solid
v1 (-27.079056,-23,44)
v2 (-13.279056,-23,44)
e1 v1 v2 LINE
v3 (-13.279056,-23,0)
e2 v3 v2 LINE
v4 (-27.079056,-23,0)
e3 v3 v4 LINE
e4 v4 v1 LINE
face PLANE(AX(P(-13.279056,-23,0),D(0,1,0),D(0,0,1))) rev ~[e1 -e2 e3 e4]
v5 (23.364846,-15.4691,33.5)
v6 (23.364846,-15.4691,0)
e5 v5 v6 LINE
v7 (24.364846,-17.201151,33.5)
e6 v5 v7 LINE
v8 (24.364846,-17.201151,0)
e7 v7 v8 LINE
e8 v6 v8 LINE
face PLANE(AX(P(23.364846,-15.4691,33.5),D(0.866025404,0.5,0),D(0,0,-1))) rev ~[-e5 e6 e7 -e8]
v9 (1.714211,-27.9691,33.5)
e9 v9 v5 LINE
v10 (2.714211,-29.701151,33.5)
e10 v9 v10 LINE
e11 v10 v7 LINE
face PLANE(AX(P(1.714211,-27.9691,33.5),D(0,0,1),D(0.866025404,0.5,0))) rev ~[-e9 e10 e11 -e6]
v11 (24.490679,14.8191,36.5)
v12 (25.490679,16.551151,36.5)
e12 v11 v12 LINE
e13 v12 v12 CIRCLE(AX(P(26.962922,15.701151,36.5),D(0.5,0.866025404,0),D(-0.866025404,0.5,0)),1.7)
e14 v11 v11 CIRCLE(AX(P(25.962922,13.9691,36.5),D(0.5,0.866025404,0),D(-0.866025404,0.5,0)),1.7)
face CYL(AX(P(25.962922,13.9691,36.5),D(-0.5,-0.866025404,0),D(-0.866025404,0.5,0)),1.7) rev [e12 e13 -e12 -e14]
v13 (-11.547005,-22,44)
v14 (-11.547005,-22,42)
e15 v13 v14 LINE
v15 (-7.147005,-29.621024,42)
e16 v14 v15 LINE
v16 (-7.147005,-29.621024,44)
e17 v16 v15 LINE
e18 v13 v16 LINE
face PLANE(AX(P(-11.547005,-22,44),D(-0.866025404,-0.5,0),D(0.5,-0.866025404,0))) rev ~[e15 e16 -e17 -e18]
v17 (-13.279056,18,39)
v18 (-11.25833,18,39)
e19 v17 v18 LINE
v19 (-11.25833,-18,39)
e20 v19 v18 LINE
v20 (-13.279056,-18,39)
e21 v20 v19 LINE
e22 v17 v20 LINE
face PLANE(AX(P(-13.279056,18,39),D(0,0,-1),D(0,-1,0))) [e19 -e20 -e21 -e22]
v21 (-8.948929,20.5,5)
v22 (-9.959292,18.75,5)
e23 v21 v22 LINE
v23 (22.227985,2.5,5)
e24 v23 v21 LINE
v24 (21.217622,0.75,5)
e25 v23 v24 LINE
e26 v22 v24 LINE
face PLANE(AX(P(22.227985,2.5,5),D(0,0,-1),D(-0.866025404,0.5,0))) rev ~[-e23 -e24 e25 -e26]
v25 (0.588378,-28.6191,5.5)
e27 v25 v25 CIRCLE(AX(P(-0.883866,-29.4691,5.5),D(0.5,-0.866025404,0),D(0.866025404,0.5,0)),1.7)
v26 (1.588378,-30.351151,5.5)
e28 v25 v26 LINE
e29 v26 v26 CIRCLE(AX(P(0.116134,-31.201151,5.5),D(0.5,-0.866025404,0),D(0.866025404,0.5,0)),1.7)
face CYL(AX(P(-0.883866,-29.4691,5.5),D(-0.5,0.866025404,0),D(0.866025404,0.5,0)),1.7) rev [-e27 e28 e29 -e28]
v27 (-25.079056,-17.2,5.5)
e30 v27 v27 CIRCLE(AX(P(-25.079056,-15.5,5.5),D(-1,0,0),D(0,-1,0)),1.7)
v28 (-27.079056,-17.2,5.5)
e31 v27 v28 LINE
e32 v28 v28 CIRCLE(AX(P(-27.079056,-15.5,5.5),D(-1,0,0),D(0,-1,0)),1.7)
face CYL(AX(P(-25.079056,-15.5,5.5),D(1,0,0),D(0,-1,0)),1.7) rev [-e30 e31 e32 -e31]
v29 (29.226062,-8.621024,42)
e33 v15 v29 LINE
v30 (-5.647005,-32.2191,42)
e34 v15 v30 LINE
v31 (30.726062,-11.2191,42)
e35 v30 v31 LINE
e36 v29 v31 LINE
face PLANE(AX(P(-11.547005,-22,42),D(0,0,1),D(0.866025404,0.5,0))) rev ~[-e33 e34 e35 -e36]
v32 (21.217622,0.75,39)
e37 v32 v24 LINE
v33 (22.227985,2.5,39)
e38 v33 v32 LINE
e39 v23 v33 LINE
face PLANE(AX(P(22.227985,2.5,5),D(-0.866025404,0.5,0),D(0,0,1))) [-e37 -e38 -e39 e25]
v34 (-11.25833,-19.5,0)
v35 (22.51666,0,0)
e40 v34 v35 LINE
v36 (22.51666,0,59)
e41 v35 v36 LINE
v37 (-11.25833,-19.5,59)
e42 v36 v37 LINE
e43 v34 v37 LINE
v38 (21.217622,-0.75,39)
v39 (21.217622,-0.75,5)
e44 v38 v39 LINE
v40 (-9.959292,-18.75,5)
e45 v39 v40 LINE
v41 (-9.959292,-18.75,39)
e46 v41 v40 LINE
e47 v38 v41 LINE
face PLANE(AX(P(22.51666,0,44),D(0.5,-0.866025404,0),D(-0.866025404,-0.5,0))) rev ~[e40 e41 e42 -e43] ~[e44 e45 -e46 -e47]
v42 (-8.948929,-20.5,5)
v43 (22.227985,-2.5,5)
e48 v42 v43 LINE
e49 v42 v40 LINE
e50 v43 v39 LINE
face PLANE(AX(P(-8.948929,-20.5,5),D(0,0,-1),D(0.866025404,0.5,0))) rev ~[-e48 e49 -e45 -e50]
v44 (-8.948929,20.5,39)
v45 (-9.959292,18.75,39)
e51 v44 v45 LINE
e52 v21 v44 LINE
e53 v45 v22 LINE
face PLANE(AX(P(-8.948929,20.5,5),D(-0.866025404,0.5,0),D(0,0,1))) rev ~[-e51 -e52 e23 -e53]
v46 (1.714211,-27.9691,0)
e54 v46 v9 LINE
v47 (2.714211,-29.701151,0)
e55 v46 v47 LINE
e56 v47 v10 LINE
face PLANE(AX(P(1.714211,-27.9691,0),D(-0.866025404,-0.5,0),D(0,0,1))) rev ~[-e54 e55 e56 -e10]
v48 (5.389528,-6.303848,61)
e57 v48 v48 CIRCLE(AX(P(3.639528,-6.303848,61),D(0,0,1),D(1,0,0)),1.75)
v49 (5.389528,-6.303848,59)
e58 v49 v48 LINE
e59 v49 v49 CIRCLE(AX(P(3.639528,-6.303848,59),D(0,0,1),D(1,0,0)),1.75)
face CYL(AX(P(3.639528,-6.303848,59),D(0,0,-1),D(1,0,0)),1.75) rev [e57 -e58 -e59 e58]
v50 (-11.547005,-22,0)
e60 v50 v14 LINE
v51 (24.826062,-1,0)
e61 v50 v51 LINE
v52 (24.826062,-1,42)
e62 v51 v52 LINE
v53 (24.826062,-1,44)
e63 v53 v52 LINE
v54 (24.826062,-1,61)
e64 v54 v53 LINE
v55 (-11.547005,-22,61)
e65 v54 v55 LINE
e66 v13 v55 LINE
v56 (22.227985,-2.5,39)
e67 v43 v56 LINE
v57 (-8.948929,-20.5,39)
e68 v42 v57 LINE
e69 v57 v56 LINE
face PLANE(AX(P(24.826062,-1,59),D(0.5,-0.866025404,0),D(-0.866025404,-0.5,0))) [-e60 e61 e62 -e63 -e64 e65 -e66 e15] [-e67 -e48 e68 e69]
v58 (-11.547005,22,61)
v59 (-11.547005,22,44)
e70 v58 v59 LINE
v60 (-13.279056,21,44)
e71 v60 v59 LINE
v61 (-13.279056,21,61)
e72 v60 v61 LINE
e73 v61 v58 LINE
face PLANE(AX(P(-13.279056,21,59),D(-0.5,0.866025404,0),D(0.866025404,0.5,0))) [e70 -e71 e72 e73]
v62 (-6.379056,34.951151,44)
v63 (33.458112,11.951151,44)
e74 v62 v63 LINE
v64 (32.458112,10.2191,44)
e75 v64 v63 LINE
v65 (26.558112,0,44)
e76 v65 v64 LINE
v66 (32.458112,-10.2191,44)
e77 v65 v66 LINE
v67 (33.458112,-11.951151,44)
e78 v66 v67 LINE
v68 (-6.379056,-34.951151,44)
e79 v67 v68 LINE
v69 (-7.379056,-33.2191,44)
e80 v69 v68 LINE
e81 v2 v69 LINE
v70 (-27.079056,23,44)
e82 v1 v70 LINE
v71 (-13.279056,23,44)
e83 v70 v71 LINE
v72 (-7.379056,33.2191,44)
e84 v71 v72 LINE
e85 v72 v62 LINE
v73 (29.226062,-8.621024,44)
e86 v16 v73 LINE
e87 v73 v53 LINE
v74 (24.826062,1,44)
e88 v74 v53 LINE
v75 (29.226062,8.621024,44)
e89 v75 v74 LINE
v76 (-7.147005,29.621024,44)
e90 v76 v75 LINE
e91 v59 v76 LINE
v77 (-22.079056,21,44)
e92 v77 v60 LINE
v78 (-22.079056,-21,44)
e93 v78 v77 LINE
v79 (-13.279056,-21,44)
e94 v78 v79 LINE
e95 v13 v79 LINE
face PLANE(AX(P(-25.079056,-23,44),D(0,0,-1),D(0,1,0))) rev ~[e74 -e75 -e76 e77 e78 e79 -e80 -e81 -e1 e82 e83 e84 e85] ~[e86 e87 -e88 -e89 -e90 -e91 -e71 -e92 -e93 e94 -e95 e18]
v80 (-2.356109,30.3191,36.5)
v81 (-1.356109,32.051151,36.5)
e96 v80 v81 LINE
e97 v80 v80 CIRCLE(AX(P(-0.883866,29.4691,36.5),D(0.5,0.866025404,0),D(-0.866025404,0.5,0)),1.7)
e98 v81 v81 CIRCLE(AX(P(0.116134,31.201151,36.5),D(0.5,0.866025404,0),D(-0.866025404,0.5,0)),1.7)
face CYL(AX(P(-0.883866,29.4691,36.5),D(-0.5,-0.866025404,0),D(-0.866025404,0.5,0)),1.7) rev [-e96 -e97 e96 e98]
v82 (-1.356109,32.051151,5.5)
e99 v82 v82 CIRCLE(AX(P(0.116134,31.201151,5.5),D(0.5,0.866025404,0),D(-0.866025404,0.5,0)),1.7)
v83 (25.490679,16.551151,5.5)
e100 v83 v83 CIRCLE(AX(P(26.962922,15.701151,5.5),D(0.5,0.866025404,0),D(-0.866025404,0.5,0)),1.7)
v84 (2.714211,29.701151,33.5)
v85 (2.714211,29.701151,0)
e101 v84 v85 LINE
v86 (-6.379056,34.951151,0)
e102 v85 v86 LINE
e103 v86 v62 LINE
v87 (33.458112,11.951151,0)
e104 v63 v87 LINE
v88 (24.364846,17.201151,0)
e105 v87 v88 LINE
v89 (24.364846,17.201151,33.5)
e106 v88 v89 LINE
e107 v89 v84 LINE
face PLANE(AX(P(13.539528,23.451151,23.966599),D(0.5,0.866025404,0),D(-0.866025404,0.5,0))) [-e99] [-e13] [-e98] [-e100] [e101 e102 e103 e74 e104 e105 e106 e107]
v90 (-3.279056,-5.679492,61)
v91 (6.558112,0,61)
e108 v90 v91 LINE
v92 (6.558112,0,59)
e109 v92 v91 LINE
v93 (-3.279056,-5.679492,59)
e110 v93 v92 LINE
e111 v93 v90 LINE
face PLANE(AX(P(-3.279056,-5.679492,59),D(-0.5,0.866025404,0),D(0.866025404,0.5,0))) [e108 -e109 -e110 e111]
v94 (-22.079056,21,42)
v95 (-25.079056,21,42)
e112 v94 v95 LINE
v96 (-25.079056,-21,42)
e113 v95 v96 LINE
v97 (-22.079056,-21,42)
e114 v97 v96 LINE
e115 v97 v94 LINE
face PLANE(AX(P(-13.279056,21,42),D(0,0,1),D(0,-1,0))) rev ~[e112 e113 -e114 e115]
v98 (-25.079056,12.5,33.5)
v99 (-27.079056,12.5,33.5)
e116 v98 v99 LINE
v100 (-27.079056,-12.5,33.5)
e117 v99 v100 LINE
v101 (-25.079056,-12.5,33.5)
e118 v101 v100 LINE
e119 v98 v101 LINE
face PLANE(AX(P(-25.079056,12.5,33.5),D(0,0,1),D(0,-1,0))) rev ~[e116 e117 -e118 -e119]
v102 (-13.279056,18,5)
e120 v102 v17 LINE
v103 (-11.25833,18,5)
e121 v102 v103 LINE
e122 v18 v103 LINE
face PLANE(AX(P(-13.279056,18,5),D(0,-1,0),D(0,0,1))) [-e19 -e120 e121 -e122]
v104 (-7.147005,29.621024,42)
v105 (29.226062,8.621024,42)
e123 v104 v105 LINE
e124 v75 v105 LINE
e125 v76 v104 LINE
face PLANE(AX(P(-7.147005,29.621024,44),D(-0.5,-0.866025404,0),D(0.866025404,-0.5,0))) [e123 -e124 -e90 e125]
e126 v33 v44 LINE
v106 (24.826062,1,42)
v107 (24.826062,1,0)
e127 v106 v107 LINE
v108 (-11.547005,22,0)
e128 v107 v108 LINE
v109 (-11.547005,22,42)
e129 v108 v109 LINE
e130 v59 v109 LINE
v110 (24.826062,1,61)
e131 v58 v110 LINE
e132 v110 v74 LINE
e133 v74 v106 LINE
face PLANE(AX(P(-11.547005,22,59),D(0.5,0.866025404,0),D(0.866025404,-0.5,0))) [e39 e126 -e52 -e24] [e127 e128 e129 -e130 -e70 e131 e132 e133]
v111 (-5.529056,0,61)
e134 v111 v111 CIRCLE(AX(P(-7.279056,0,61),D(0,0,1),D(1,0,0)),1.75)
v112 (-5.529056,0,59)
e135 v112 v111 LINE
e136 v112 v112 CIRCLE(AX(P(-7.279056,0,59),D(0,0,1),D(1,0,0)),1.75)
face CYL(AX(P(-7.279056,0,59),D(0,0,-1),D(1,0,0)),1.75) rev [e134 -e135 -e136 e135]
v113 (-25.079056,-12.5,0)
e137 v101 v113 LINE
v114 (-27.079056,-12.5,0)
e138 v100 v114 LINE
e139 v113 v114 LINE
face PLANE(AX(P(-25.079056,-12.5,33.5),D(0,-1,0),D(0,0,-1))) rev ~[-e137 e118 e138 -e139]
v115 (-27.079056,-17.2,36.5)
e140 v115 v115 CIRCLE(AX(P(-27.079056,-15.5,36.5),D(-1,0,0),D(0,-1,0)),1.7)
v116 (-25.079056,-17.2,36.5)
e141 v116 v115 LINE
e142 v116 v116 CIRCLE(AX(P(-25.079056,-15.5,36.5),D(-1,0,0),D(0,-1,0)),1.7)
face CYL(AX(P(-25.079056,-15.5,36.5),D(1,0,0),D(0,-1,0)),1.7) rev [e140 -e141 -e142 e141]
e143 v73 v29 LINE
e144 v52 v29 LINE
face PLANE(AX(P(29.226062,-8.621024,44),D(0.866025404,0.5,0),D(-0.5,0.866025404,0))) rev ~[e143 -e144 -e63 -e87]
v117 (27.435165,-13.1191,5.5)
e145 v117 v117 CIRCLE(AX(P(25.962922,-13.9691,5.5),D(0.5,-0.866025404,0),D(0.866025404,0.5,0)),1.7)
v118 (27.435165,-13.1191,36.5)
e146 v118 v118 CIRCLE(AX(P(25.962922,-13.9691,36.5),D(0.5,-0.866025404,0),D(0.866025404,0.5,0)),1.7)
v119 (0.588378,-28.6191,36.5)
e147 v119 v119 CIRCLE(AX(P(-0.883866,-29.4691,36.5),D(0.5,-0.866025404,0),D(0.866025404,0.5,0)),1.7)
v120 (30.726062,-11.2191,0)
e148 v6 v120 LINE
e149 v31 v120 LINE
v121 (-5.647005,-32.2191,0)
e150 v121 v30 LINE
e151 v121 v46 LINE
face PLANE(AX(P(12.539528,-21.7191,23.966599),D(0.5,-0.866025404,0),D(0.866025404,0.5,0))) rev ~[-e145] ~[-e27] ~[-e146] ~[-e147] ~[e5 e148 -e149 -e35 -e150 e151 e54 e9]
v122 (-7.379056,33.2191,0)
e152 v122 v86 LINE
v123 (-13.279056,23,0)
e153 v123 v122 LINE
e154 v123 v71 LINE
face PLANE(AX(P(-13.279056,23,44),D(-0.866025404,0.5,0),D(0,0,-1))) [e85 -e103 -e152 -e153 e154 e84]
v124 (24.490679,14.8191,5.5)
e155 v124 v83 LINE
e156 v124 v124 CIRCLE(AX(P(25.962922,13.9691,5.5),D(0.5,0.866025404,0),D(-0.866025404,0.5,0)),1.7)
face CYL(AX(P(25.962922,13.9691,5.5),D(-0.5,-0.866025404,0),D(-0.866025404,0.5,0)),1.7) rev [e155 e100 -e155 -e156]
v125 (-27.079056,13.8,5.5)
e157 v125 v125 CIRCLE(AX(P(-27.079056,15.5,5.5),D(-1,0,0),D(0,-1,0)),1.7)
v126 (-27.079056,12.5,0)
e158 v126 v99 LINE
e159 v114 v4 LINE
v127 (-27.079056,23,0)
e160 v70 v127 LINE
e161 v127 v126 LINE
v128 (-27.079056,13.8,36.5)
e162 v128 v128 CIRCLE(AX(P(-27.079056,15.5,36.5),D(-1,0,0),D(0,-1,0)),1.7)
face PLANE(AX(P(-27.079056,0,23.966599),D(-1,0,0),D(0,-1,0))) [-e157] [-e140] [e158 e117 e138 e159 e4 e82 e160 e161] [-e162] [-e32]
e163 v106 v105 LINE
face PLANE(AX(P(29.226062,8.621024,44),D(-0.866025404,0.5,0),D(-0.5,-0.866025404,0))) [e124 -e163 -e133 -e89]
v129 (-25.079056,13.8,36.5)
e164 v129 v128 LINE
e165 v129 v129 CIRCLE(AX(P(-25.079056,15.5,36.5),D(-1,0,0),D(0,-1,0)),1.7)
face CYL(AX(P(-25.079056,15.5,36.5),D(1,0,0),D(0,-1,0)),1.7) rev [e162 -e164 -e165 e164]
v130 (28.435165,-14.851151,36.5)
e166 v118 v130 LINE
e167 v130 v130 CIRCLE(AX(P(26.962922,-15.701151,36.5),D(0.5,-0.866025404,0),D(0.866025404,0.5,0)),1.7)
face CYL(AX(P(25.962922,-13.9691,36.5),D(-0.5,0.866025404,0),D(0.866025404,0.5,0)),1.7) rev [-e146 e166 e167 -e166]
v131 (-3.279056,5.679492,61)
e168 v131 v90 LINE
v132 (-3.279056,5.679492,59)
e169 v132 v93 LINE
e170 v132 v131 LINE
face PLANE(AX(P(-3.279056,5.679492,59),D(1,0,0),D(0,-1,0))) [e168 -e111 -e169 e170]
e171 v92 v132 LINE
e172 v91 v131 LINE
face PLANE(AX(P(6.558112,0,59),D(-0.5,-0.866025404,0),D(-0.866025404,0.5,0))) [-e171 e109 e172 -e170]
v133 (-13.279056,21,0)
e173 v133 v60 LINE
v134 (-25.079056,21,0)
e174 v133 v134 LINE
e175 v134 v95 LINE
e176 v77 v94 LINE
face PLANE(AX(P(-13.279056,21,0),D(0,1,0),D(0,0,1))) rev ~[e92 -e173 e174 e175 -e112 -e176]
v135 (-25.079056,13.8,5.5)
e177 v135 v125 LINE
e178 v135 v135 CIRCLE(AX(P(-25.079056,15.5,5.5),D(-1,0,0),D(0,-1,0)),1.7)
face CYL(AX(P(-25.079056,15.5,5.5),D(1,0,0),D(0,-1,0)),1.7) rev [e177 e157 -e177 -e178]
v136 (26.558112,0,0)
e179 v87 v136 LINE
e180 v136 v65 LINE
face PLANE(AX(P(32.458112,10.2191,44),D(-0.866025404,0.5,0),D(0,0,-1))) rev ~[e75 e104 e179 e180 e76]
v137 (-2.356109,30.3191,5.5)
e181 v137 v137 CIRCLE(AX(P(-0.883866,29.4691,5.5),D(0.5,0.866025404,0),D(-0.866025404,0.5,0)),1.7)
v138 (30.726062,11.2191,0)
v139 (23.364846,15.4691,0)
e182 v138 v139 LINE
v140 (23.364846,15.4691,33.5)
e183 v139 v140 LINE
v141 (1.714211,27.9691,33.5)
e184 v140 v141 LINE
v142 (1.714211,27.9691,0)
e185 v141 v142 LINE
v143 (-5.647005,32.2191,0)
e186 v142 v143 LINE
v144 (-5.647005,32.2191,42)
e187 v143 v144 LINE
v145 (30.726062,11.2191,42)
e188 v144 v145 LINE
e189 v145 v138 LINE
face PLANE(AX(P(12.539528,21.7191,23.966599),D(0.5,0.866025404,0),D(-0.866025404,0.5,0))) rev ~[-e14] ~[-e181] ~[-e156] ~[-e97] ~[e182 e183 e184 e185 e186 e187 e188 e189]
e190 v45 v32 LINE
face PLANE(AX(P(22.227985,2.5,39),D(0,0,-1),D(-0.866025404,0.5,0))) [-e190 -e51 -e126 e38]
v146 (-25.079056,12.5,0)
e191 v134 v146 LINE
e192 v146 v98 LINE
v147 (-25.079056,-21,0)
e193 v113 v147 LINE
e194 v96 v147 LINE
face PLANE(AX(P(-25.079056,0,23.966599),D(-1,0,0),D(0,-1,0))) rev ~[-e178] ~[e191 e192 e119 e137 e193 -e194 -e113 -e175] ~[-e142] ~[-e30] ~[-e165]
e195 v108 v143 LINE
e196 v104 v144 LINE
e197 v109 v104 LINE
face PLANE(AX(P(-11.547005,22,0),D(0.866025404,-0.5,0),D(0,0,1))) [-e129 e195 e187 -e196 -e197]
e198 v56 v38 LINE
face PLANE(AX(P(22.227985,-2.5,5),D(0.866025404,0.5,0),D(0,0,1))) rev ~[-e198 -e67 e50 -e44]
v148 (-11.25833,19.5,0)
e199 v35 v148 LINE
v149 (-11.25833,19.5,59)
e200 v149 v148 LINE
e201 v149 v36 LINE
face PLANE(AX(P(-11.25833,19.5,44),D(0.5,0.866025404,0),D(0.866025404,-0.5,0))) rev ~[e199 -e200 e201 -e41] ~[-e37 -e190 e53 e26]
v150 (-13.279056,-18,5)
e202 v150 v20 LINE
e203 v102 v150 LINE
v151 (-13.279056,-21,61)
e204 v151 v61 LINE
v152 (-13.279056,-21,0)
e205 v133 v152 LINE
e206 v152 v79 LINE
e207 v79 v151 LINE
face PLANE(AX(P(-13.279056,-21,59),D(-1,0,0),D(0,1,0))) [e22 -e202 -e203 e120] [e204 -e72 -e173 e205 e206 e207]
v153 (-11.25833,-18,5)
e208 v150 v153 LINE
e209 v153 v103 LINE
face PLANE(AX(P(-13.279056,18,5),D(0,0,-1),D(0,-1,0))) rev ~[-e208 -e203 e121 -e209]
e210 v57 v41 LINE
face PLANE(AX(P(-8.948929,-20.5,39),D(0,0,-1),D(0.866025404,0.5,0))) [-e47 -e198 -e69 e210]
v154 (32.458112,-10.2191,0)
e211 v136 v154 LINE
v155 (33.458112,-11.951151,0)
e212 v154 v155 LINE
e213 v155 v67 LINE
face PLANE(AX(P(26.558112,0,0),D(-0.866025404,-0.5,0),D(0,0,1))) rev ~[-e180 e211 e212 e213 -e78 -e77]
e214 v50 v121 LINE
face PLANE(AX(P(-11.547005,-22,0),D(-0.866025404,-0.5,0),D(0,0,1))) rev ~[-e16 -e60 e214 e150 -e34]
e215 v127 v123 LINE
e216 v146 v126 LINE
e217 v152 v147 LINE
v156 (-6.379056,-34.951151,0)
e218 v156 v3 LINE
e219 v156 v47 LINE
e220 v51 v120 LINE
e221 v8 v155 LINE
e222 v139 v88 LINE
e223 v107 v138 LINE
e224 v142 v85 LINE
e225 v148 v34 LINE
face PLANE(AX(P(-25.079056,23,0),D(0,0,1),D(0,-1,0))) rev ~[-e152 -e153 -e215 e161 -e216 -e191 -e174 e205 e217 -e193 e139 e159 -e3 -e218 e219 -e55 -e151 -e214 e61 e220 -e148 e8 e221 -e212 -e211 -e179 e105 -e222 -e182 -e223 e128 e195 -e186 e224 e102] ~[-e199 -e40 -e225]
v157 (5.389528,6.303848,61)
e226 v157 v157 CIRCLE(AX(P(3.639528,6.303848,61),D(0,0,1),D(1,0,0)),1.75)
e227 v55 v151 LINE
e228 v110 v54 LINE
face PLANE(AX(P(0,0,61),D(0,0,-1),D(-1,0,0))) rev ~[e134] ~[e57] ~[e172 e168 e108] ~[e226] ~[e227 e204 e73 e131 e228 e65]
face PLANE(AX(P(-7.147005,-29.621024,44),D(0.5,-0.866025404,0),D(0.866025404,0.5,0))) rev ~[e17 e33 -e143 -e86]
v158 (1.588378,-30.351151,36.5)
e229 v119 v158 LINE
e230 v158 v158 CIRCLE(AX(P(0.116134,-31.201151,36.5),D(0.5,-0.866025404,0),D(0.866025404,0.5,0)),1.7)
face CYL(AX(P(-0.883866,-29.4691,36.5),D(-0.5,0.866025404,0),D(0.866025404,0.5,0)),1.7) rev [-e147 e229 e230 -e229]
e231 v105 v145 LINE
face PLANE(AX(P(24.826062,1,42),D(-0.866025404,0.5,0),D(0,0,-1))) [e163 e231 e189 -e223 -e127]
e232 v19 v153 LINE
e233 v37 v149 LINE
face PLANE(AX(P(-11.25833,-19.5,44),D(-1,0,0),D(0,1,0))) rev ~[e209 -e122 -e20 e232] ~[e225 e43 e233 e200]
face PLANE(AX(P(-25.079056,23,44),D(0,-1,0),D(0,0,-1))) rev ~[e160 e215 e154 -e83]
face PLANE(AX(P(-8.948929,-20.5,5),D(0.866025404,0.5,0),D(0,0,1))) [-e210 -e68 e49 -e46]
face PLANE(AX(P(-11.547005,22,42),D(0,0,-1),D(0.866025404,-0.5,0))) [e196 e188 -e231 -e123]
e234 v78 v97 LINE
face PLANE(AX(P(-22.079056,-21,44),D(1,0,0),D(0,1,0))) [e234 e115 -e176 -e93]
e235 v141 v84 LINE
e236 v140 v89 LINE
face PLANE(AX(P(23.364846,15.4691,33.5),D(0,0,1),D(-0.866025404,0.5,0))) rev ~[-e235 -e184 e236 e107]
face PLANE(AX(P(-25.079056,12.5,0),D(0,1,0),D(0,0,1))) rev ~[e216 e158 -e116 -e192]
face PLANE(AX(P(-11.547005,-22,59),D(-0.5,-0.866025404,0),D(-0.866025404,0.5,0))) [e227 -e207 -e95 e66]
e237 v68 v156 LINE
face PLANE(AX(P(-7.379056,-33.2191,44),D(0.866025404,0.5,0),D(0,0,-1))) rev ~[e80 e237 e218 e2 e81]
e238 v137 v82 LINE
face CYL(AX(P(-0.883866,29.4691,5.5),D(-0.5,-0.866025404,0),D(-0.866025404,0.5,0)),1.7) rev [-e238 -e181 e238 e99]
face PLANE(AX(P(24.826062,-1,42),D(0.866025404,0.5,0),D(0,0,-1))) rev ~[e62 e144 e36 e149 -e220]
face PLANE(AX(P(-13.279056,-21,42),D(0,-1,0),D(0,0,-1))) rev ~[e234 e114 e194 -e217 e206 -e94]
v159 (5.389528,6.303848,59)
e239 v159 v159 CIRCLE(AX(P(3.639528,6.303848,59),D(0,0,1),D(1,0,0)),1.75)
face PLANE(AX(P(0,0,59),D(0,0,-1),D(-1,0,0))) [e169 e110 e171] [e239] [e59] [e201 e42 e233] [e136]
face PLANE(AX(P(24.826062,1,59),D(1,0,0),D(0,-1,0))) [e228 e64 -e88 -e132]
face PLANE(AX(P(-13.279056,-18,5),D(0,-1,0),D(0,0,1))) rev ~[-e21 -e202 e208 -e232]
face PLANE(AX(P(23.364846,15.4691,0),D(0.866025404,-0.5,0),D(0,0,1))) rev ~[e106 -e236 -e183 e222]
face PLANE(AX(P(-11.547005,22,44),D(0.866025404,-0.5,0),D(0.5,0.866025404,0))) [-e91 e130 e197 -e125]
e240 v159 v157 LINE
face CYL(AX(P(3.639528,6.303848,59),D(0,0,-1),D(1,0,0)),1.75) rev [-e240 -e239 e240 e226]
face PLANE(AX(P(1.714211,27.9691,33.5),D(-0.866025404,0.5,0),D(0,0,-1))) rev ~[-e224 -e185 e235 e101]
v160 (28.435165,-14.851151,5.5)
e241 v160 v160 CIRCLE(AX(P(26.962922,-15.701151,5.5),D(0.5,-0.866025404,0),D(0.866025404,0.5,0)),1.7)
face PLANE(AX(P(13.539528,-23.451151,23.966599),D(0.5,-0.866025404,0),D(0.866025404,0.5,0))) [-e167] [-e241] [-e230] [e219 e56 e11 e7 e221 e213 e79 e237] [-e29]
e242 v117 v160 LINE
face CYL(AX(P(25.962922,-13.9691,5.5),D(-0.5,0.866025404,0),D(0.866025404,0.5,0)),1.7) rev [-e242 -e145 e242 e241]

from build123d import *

# Parameters (mm, degrees)
PAD_DEPTH       = 44
PAD001_DEPTH    = 11.8
SKETCH002_R     = 1.7
PAD002_DEPTH    = 2
POCKET_DEPTH    = 5
SKETCH004_W     = 36
SKETCH004_H     = 34
POCKET001_DEPTH = 3
SKETCH005_W     = 36
SKETCH005_H     = 34
POCKET002_DEPTH = 4
PAD003_DEPTH    = 11.8
SKETCH007_R     = 1.7
PAD004_DEPTH    = 2
POCKET003_DEPTH = 2
PAD005_DEPTH    = 11.8
SKETCH010_R     = 1.7
PAD006_DEPTH    = 2
SKETCH011_W     = 8.8
SKETCH011_H     = 42
POCKET004_DEPTH = 2
SKETCH012_W     = 36
SKETCH012_H     = 34
POCKET005_DEPTH = 3
PAD007_DEPTH    = 15
SKETCH014_R     = 1.75
PAD008_DEPTH    = 2


with BuildPart() as part:
    # Sketch → Pad (new body)
    with BuildSketch(Plane.XY):
        Polygon((26.5581123827, 0), (-13.2790561914, 23), (-13.2790561914, -23), align=None)
        Polygon((22.5166604984, 0), (-11.2583302492, 19.5), (-11.2583302492, -19.5), align=None, mode=Mode.SUBTRACT)
    extrude(amount=PAD_DEPTH)

    # Sketch001 (on Face3 of Pad) → Pad001 (join)
    with BuildSketch(Plane(origin=(6.6395280957, -11.5, 0), x_dir=(0.8660254038, 0.5, 0), z_dir=(0.5, -0.8660254038, 0))):
        Polygon((-23, 0), (-21, 0), (-21, 42), (21, 42), (21, 0), (23, 0), (23, 44), (-23, 44), align=None)
    extrude(amount=PAD001_DEPTH)

    # Sketch002 (on Face8 of Pad001) → Pad002 (join)
    with BuildSketch(Plane(origin=(12.5395280957, -21.7190997647, 0), x_dir=(0.8660254038, 0.5, 0), z_dir=(0.5, -0.8660254038, 0))):
        Polygon((-23, 0), (-12.5, 0), (-12.5, 33.5), (12.5, 33.5), (12.5, 0), (23, 0), (23, 44), (-23, 44), align=None)
        with Locations((-15.5, 36.5)):
            Circle(SKETCH002_R, mode=Mode.SUBTRACT)
        with Locations((-15.5, 5.5)):
            Circle(SKETCH002_R, mode=Mode.SUBTRACT)
        with Locations((15.5, 5.5)):
            Circle(SKETCH002_R, mode=Mode.SUBTRACT)
        with Locations((15.5, 36.5)):
            Circle(SKETCH002_R, mode=Mode.SUBTRACT)
    extrude(amount=PAD002_DEPTH)

    # Sketch003 (on Face7 of Pad002) → Pocket (cut)
    with BuildSketch(Plane.XY.offset(44)):
        Polygon((-11.5470053838, -22), (-7.1470053838, -29.6210235533), (29.2260615752, -8.6210235533), (24.8260615752, -1), align=None)
    extrude(amount=-POCKET_DEPTH, mode=Mode.SUBTRACT)

    # Sketch004 (on Face11 of Pocket) → Pocket001 (cut)
    with BuildSketch(Plane(origin=(6.6395280957, -11.5, 0), x_dir=(0.8660254038, 0.5, 0), z_dir=(0.5, -0.8660254038, 0))):
        with Locations((0, 22)):
            Rectangle(SKETCH004_W, SKETCH004_H)
    extrude(amount=-POCKET001_DEPTH, mode=Mode.SUBTRACT)

    # Sketch005 (on Face1 of Pocket001) → Pocket002 (cut)
    with BuildSketch(Plane(origin=(6.6395280957, 11.5, 0), x_dir=(-0.8660254038, 0.5, 0), z_dir=(0.5, 0.8660254038, 0))):
        with Locations((0, 22)):
            Rectangle(SKETCH005_W, SKETCH005_H)
    extrude(amount=-POCKET002_DEPTH, mode=Mode.SUBTRACT)

    # Sketch006 (on Face1 of Pocket002) → Pad003 (join)
    with BuildSketch(Plane(origin=(6.6395280957, 11.5, 0), x_dir=(-0.8660254038, 0.5, 0), z_dir=(0.5, 0.8660254038, 0))):
        Polygon((-23, 44), (23, 44), (23, 0), (21, 0), (21, 42), (-21, 42), (-21, 0), (-23, 0), align=None)
    extrude(amount=PAD003_DEPTH)

    # Sketch007 (on Face19 of Pad003) → Pad004 (join)
    with BuildSketch(Plane(origin=(12.5395280957, 21.7190997647, 0), x_dir=(-0.8660254038, 0.5, 0), z_dir=(0.5, 0.8660254038, 0))):
        Polygon((-23, 0), (-12.5, 0), (-12.5, 33.5), (12.5, 33.5), (12.5, 0), (23, 0), (23, 44), (-23, 44), align=None)
        with Locations((-15.5, 36.5)):
            Circle(SKETCH007_R, mode=Mode.SUBTRACT)
        with Locations((15.5, 36.5)):
            Circle(SKETCH007_R, mode=Mode.SUBTRACT)
        with Locations((15.5, 5.5)):
            Circle(SKETCH007_R, mode=Mode.SUBTRACT)
        with Locations((-15.5, 5.5)):
            Circle(SKETCH007_R, mode=Mode.SUBTRACT)
    extrude(amount=PAD004_DEPTH)

    # Sketch008 (on Face43 of Pad004) → Pocket003 (cut)
    with BuildSketch(Plane.XY.offset(44)):
        Polygon((-11.5470053838, 22), (-7.1470053838, 29.6210235533), (29.2260615751, 8.6210235533), (24.8260615752, 1), align=None)
    extrude(amount=-POCKET003_DEPTH, mode=Mode.SUBTRACT)

    # Sketch009 (on Face12 of Pocket003) → Pad005 (join)
    with BuildSketch(Plane(origin=(-13.2790561914, 0, 0), x_dir=(0, -1, 0), z_dir=(-1, 0, 0))):
        Polygon((-23, 0), (-21, 0), (-21, 42), (21, 42), (21, 0), (23, 0), (23, 44), (-23, 44), align=None)
    extrude(amount=PAD005_DEPTH)

    # Sketch010 (on Face32 of Pad005) → Pad006 (join)
    with BuildSketch(Plane(origin=(-25.0790561914, 0, 0), x_dir=(0, -1, 0), z_dir=(-1, 0, 0))):
        Polygon((-23, 0), (-12.5, 0), (-12.5, 33.5), (12.5, 33.5), (12.5, 0), (23, 0), (23, 44), (-23, 44), align=None)
        with Locations((-15.5, 5.5)):
            Circle(SKETCH010_R, mode=Mode.SUBTRACT)
        with Locations((-15.5, 36.5)):
            Circle(SKETCH010_R, mode=Mode.SUBTRACT)
        with Locations((15.5, 36.5)):
            Circle(SKETCH010_R, mode=Mode.SUBTRACT)
        with Locations((15.5, 5.5)):
            Circle(SKETCH010_R, mode=Mode.SUBTRACT)
    extrude(amount=PAD006_DEPTH)

    # Sketch011 (on Face57 of Pad006) → Pocket004 (cut)
    with BuildSketch(Plane.XY.offset(44)):
        with Locations((-17.6790561914, 0)):
            Rectangle(SKETCH011_W, SKETCH011_H)
    extrude(amount=-POCKET004_DEPTH, mode=Mode.SUBTRACT)

    # Sketch012 (on Face13 of Pocket004) → Pocket005 (cut)
    with BuildSketch(Plane(origin=(-13.2790561914, 0, 0), x_dir=(0, -1, 0), z_dir=(-1, 0, 0))):
        with Locations((0, 22)):
            Rectangle(SKETCH012_W, SKETCH012_H)
    extrude(amount=-POCKET005_DEPTH, mode=Mode.SUBTRACT)

    # Sketch013 (on Face25 of Pocket005) → Pad007 (join)
    with BuildSketch(Plane.XY.offset(44)):
        Polygon((-13.2790561914, 21), (-11.5470053838, 22), (24.8260615752, 1), (24.8260615752, -1), (-11.5470053838, -22), (-13.2790561914, -21), align=None)
        Polygon((-11.2583302492, 19.5), (22.5166604984, 0), (-11.2583302492, -19.5), align=None, mode=Mode.SUBTRACT)
    extrude(amount=PAD007_DEPTH)

    # Sketch014 (on Face66 of Pad007) → Pad008 (join)
    with BuildSketch(Plane.XY.offset(59)):
        Polygon((-13.2790561914, 21), (-11.5470053838, 22), (24.8260615752, 1), (24.8260615752, -1), (-11.5470053838, -22), (-13.2790561914, -21), align=None)
        with Locations((-7.2790561914, 0)):
            Circle(SKETCH014_R, mode=Mode.SUBTRACT)
        with Locations((3.6395280957, 6.3038475773)):
            Circle(SKETCH014_R, mode=Mode.SUBTRACT)
        with Locations((3.6395280957, -6.3038475773)):
            Circle(SKETCH014_R, mode=Mode.SUBTRACT)
        Polygon((6.5581123827, 0), (-3.2790561914, 5.6794919243), (-3.2790561914, -5.6794919243), align=None, mode=Mode.SUBTRACT)
    extrude(amount=PAD008_DEPTH)


solid = part.part
